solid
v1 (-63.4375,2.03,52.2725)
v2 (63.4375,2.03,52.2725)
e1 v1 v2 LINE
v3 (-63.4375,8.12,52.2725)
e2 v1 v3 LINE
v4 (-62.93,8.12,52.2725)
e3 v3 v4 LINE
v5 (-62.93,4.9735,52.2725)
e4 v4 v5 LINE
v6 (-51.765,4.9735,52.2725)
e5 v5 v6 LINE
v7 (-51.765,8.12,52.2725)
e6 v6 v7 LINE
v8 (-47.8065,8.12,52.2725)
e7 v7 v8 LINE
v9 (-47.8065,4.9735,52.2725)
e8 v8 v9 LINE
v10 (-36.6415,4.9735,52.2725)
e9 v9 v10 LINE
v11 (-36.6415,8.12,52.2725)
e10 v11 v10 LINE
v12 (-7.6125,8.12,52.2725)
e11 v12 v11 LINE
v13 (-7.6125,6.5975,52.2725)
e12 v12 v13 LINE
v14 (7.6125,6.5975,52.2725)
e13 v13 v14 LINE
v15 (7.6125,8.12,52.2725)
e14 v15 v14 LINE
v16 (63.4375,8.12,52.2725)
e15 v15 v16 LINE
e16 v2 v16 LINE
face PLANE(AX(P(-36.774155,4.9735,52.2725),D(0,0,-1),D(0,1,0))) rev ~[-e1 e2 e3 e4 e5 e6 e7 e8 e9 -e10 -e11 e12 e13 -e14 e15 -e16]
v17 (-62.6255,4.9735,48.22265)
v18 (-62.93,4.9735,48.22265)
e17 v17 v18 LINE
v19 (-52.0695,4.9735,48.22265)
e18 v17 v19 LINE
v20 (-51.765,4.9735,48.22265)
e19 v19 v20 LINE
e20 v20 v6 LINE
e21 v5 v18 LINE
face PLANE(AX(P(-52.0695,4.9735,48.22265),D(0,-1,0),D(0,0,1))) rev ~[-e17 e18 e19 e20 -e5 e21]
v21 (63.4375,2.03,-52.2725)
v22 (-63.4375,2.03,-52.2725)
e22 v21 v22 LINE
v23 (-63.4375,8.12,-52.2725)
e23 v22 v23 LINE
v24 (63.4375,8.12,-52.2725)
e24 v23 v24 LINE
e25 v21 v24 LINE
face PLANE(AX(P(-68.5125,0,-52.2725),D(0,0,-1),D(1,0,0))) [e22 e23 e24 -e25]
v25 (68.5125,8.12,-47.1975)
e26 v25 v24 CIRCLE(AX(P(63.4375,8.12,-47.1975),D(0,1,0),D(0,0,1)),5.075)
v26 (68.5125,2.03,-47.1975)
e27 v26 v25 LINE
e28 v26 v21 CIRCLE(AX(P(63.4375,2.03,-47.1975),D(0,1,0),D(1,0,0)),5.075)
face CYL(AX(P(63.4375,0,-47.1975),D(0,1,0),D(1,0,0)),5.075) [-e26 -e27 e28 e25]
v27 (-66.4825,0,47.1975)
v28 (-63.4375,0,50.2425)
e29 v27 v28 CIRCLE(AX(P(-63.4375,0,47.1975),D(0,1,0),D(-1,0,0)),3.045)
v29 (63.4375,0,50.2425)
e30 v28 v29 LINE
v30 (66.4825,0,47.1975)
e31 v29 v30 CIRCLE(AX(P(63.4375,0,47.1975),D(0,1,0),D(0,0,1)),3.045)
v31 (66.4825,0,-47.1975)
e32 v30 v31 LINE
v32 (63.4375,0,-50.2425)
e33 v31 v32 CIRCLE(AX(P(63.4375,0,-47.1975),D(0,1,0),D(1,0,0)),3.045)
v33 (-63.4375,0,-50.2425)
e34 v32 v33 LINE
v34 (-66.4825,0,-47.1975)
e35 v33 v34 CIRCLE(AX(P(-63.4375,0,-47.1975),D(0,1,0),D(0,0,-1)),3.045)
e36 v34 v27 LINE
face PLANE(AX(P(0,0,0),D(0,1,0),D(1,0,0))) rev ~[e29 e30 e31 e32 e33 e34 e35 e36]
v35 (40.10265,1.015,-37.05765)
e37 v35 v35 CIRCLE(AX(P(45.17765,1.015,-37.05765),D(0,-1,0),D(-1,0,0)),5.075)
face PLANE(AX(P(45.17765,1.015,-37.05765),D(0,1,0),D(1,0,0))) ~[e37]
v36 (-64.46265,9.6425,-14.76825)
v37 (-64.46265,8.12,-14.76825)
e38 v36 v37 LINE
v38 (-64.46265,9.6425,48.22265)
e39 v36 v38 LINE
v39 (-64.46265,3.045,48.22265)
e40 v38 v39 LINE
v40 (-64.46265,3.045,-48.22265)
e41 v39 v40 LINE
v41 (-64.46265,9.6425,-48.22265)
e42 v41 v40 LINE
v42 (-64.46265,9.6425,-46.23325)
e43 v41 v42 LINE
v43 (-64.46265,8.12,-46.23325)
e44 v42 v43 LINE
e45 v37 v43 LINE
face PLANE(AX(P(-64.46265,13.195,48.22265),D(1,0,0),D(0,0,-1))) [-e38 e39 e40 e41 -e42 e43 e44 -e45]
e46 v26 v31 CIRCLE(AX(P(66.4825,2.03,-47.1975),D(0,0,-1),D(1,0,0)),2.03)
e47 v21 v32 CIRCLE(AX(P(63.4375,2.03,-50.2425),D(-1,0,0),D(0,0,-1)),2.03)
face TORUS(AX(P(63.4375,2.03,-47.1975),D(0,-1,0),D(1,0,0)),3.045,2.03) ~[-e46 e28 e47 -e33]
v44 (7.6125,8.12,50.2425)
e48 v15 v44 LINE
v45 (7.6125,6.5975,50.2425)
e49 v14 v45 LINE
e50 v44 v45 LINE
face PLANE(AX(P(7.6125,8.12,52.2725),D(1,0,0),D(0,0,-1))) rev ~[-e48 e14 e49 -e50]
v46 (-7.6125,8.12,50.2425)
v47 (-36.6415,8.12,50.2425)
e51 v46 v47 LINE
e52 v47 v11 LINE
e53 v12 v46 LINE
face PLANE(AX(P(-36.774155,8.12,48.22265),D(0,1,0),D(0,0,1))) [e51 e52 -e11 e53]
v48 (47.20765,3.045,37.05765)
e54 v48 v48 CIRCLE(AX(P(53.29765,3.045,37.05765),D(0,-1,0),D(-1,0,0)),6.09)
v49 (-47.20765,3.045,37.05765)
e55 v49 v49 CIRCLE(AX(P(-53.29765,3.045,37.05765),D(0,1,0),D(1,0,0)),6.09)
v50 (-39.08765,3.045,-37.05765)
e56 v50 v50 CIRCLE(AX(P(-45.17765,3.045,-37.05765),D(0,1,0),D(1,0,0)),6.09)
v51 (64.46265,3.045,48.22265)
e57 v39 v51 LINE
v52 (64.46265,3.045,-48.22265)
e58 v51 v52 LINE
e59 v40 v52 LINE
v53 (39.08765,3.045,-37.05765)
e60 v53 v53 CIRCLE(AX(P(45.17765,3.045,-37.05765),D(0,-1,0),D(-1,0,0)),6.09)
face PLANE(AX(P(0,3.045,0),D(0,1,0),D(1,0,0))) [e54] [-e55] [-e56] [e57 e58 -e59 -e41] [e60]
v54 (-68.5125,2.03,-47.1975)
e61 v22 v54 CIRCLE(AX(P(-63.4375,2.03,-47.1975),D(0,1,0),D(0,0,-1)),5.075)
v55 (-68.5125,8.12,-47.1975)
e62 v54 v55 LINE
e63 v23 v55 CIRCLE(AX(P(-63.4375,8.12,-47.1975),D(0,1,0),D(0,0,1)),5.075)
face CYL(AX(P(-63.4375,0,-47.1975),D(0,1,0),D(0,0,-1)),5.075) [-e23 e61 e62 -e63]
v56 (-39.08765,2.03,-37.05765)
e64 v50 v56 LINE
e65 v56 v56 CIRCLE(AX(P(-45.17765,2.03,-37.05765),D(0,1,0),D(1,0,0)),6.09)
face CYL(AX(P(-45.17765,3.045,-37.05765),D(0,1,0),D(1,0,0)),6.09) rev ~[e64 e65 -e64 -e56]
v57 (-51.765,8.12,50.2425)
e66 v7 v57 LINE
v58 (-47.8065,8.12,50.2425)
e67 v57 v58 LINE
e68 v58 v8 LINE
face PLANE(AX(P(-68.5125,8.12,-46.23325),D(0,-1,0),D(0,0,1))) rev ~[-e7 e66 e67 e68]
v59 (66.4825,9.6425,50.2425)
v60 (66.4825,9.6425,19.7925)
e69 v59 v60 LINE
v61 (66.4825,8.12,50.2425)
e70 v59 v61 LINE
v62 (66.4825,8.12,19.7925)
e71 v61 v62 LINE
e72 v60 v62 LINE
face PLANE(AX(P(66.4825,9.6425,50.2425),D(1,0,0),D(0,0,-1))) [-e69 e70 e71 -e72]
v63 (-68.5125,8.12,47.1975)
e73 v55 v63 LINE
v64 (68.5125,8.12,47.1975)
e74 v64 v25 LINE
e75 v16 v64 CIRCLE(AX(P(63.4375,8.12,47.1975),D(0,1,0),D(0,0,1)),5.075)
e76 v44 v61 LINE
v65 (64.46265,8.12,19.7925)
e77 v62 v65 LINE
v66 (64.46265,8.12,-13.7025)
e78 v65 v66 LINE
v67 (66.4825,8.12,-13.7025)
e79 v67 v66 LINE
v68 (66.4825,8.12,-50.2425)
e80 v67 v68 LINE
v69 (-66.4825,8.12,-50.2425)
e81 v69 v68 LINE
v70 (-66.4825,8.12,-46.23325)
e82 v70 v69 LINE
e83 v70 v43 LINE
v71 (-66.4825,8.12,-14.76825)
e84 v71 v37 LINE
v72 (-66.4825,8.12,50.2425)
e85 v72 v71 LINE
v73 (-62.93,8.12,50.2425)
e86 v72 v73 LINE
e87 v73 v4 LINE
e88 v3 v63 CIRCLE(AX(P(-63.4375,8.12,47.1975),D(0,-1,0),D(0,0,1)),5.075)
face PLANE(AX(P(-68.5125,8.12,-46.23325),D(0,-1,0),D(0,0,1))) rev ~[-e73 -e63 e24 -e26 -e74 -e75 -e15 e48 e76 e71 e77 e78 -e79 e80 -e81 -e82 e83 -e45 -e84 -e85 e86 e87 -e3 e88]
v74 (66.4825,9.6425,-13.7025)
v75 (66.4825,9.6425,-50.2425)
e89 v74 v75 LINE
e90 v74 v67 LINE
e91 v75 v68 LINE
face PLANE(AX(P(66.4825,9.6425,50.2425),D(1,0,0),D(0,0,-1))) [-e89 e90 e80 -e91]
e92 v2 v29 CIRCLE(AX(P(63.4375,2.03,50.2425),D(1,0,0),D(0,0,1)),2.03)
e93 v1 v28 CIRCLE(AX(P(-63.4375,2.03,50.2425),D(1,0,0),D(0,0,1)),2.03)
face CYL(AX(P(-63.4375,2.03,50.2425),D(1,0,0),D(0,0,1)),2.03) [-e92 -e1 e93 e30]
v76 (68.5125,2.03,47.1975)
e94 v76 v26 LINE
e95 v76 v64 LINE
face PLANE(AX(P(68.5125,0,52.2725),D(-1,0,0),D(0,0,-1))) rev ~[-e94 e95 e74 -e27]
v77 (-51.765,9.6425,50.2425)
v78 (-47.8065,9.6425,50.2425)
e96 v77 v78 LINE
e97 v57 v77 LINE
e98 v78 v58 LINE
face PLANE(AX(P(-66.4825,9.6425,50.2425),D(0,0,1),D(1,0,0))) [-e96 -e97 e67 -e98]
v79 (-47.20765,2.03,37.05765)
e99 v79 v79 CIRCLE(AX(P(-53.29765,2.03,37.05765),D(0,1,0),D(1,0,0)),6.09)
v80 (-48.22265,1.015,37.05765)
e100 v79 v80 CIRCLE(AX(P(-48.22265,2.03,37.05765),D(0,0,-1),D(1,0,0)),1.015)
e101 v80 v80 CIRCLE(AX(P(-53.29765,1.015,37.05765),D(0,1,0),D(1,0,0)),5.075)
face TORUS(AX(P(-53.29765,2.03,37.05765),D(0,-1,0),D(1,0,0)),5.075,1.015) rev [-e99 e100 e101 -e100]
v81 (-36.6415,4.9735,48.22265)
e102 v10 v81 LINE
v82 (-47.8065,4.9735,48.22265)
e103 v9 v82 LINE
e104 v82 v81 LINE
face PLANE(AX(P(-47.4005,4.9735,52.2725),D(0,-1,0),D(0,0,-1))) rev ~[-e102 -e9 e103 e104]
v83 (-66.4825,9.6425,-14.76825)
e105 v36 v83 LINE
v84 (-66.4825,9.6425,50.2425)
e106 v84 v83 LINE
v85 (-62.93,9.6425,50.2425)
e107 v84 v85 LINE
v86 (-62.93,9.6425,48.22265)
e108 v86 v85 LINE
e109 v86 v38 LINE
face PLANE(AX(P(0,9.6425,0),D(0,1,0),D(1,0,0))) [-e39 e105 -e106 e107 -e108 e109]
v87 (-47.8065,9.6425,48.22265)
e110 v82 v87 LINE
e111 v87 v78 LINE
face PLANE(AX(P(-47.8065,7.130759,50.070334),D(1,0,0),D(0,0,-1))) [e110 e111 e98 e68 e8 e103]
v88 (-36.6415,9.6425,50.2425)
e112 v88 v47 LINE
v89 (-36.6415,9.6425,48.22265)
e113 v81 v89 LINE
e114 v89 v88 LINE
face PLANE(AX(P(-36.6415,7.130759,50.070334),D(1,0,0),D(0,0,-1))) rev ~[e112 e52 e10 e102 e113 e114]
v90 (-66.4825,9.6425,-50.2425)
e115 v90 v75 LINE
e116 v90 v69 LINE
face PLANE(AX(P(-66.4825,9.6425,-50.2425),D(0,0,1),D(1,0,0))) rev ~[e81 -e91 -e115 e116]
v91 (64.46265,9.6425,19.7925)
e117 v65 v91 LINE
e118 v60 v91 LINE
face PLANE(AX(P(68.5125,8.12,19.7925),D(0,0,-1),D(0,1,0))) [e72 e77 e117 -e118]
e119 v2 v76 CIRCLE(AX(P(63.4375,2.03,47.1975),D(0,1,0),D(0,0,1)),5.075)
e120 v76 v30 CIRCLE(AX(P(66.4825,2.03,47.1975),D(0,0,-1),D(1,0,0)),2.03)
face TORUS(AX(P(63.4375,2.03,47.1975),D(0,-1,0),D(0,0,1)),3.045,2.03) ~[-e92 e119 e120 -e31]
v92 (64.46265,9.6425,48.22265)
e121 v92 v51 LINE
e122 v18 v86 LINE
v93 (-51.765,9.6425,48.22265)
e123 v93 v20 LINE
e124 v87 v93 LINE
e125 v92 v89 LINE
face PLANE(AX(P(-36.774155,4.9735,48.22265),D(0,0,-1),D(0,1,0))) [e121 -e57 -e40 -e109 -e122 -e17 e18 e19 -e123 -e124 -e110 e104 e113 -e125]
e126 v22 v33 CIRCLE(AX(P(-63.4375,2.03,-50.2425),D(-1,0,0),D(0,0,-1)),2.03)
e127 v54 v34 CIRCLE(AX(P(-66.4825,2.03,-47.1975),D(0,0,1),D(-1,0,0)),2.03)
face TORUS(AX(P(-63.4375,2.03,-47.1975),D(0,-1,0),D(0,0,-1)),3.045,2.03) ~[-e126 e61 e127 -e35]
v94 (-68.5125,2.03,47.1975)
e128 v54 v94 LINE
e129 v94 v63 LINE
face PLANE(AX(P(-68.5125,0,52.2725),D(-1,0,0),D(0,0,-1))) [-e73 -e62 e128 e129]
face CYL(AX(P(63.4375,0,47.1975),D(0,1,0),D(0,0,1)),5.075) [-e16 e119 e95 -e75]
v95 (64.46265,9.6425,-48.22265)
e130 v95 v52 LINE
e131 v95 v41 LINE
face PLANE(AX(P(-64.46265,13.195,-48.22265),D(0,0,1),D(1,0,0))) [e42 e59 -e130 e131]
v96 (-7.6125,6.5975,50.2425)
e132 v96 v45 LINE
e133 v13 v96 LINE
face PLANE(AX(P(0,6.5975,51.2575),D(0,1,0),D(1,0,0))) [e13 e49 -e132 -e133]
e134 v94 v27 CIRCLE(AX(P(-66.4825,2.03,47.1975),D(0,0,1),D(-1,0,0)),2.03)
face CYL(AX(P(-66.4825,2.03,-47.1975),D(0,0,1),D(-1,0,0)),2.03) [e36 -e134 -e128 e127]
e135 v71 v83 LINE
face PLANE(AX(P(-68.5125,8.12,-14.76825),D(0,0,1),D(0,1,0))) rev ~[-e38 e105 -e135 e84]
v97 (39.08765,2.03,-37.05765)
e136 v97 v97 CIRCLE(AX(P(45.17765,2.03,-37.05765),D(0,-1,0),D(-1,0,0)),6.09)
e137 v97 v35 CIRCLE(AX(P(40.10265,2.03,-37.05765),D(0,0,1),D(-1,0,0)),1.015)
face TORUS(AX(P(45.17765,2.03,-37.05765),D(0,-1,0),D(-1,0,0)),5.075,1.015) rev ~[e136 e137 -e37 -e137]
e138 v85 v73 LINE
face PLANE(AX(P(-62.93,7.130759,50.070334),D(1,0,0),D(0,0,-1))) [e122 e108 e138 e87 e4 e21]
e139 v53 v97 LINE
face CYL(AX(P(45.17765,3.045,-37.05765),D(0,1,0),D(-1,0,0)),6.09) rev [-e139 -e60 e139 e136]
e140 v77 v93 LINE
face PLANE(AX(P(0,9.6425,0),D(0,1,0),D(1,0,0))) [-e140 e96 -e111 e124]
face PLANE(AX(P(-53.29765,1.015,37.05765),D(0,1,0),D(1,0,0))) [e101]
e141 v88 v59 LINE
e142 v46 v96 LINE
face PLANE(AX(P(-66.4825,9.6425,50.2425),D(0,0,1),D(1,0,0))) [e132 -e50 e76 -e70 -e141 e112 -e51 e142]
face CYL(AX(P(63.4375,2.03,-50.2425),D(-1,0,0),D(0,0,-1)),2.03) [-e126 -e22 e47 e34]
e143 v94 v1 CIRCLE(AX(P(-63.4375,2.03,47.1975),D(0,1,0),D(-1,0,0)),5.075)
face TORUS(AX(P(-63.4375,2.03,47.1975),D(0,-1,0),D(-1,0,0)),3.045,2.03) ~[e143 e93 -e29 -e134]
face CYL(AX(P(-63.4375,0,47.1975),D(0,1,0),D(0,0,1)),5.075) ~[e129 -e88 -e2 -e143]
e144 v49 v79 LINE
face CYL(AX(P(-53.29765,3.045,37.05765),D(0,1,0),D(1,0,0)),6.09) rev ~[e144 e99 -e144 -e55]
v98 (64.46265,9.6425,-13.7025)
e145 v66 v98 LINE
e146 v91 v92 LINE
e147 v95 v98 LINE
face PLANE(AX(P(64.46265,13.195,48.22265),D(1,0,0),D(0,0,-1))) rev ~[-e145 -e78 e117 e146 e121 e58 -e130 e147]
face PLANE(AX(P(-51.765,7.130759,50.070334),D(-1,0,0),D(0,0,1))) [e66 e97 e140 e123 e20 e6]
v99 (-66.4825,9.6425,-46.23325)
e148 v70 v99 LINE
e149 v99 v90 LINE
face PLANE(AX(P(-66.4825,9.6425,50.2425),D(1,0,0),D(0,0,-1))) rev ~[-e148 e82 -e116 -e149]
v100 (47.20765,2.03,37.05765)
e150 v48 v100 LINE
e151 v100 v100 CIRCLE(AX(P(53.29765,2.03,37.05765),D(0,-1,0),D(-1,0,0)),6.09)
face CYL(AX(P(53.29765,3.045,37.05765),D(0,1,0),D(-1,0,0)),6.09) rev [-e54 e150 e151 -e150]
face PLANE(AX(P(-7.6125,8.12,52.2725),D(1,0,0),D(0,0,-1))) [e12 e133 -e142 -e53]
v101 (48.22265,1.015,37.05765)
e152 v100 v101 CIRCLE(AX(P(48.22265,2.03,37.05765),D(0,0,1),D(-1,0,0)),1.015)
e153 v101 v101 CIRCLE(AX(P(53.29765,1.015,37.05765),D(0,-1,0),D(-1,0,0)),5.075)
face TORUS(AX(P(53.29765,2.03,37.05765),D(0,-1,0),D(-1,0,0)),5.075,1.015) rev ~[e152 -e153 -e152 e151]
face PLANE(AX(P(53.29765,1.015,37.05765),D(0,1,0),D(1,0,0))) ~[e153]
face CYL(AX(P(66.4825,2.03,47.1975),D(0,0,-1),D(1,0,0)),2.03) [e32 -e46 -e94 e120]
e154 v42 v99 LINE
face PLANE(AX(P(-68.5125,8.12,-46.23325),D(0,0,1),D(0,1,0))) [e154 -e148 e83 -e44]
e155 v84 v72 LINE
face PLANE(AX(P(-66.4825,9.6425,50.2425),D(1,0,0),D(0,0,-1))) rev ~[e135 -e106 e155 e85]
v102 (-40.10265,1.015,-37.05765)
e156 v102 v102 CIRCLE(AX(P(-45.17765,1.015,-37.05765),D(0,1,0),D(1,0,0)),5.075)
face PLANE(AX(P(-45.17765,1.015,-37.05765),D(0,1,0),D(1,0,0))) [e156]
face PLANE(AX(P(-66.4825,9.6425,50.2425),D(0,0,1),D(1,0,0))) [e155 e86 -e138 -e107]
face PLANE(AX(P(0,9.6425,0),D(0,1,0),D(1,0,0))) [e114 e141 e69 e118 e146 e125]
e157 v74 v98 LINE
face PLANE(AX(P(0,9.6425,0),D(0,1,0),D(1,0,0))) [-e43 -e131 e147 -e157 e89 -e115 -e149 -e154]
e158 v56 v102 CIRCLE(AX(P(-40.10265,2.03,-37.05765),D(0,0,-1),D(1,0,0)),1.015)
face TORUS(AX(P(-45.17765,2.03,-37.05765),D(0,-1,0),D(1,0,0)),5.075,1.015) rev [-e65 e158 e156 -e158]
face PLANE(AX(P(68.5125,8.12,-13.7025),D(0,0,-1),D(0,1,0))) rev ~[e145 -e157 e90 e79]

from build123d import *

# Parameters (mm, degrees)
SKETCH1_W                                      = 135
SKETCH1_H                                      = 103
BOSS_EXTRUDE1_DEPTH                            = 13
SKETCH2_W                                      = 127.02
SKETCH2_H                                      = 95.02
CUT_EXTRUDE1_DEPTH                             = 10
SKETCH3_R                                      = 6
CUT_EXTRUDE2_DEPTH                             = 2
FILLET1_R                                      = 1
FILLET1_OF_MIRROR1_R                           = 1
SKETCH4_R                                      = 6
CUT_EXTRUDE3_DEPTH                             = 2
FILLET2_R                                      = 1
FILLET2_OF_MIRROR2_R                           = 1
SKETCH5_W                                      = 31
SKETCH5_H                                      = 2.5
CUT_EXTRUDE4_DEPTH                             = 5
SKETCH6_W                                      = 135
SKETCH6_H                                      = 103
CUT_EXTRUDE5_DEPTH                             = 3.5
SKETCH7_W                                      = 33
SKETCH7_H                                      = 12
CUT_EXTRUDE6_DEPTH                             = 5
SKETCH8_OUTSIDE_W                              = 171.014
SKETCH8_OUTSIDE_H                              = 139.014
SKETCH8_OUTSIDE_W_2                            = 131
SKETCH8_OUTSIDE_H_2                            = 99
CUT_AROUND_SIDE_FOR_FRICTION_FITTING_COV_DEPTH = 1.5
SKETCH9_W                                      = 15
SKETCH9_H                                      = 2
CUT_EXTRUDE8_DEPTH                             = 1.5
FILLET3_R                                      = 5
FILLET4_R                                      = 2
SKETCH14_W                                     = 8.2
SKETCH14_H                                     = 1.5
CUT_EXTRUDE13_DEPTH                            = 4
SKETCH16_W                                     = 8.2
SKETCH16_H                                     = 1.5
CUT_EXTRUDE14_DEPTH                            = 4
SKETCH17_W                                     = 1.99
SKETCH17_H                                     = 1.5
CUT_EXTRUDE15_DEPTH                            = 9.3
CUT_EXTRUDE15_DEPTH_BACK                       = 1.1
SKETCH18_W                                     = 1.99
SKETCH18_H                                     = 1.5
CUT_EXTRUDE16_DEPTH                            = 9.3
CUT_EXTRUDE16_DEPTH_BACK                       = 1.1
SKETCH19_W                                     = 10.4
SKETCH19_H                                     = 4.692472087
SKETCH19_W_2                                   = 10.469305177
SKETCH19_H_2                                   = 5.245813632
CUT_EXTRUDE17_DEPTH                            = 3.1
SKETCH23_W                                     = 3.99
SKETCH23_H                                     = 3.1
BOSS_EXTRUDE2_DEPTH                            = 0.069305
CUT_EXTRUDE20_DEPTH                            = 0.2
CUT_EXTRUDE21_DEPTH                            = 0.4
CUT_EXTRUDE22_DEPTH                            = 0.3
CUT_EXTRUDE23_DEPTH                            = 0.3
SCALE1_SCALE                                   = 1.015


with BuildPart() as part:
    # Sketch1 → Boss-Extrude1 (new body)
    with BuildSketch(Plane(origin=(0, 0, 0), x_dir=(1, 0, 0), z_dir=(0, 1, 0))):
        Rectangle(SKETCH1_W, SKETCH1_H)
    extrude(amount=BOSS_EXTRUDE1_DEPTH)

    # Sketch2 → Cut-Extrude1 (cut)
    with BuildSketch(Plane(origin=(0, 13, 0), x_dir=(1, 0, 0), z_dir=(0, 1, 0))):
        Rectangle(SKETCH2_W, SKETCH2_H)
    extrude(amount=-CUT_EXTRUDE1_DEPTH, mode=Mode.SUBTRACT)

    # Sketch3 → Cut-Extrude2 (cut)
    with BuildSketch(Plane(origin=(0, 3, 0), x_dir=(1, 0, 0), z_dir=(0, 1, 0))):
        with Locations((-52.51, -36.51)):
            Circle(SKETCH3_R)
    cut_extrude2 = extrude(amount=-CUT_EXTRUDE2_DEPTH, mode=Mode.SUBTRACT)

    # Fillet1
    fillet1_edges = [part.edges().sort_by_distance(p)[0] for p in [
        (-58.51, 1, 36.51),
    ]]
    fillet(fillet1_edges, radius=FILLET1_R)

    # Mirror1: Cut-Extrude2 across plane
    add(cut_extrude2.mirror(Plane(origin=(0, 0, 0), x_dir=(0, 0, 1), z_dir=(1, 0, 0))), mode=Mode.SUBTRACT)

    # Fillet1 of Mirror1
    fillet1_of_mirror1_edges = [part.edges().sort_by_distance(p)[0] for p in [
        (58.51, 1, 36.51),
    ]]
    fillet(fillet1_of_mirror1_edges, radius=FILLET1_OF_MIRROR1_R)

    # Sketch4 → Cut-Extrude3 (cut)
    with BuildSketch(Plane(origin=(0, 3, 0), x_dir=(1, 0, 0), z_dir=(0, 1, 0))):
        with Locations((-44.51, 36.51)):
            Circle(SKETCH4_R)
    cut_extrude3 = extrude(amount=-CUT_EXTRUDE3_DEPTH, mode=Mode.SUBTRACT)

    # Fillet2
    fillet2_edges = [part.edges().sort_by_distance(p)[0] for p in [
        (-50.51, 1, -36.51),
    ]]
    fillet(fillet2_edges, radius=FILLET2_R)

    # Mirror2: Cut-Extrude3 across plane
    add(cut_extrude3.mirror(Plane(origin=(0, 0, 0), x_dir=(0, 0, 1), z_dir=(1, 0, 0))), mode=Mode.SUBTRACT)

    # Fillet2 of Mirror2
    fillet2_of_mirror2_edges = [part.edges().sort_by_distance(p)[0] for p in [
        (50.51, 1, -36.51),
    ]]
    fillet(fillet2_of_mirror2_edges, radius=FILLET2_OF_MIRROR2_R)

    # Sketch5 → Cut-Extrude4 (cut)
    with BuildSketch(Plane.ZY.offset(67.5)):
        with Locations((-30.05, 9.25)):
            Rectangle(SKETCH5_W, SKETCH5_H)
    extrude(amount=-CUT_EXTRUDE4_DEPTH, mode=Mode.SUBTRACT)

    # Sketch6 → Cut-Extrude5 (cut)
    with BuildSketch(Plane(origin=(0, 13, 0), x_dir=(1, 0, 0), z_dir=(0, 1, 0))):
        Rectangle(SKETCH6_W, SKETCH6_H)
    extrude(amount=-CUT_EXTRUDE5_DEPTH, mode=Mode.SUBTRACT)

    # Sketch7 → Cut-Extrude6 (cut)
    with BuildSketch(Plane(origin=(67.5, 0, 0), x_dir=(0, 0, -1), z_dir=(1, 0, 0))):
        with Locations((-3, 14)):
            Rectangle(SKETCH7_W, SKETCH7_H)
    extrude(amount=-CUT_EXTRUDE6_DEPTH, mode=Mode.SUBTRACT)

    # Sketch8 outside → Cut Around side for friction fitting cover (cut)
    with BuildSketch(Plane(origin=(0, 9.5, 0), x_dir=(1, 0, 0), z_dir=(0, 1, 0))):
        Rectangle(SKETCH8_OUTSIDE_W, SKETCH8_OUTSIDE_H)
        Rectangle(SKETCH8_OUTSIDE_W_2, SKETCH8_OUTSIDE_H_2, mode=Mode.SUBTRACT)
    extrude(amount=-CUT_AROUND_SIDE_FOR_FRICTION_FITTING_COV_DEPTH, mode=Mode.SUBTRACT)

    # Sketch9 → Cut-Extrude8 (cut)
    with BuildSketch(Plane(origin=(0, 8, 0), x_dir=(1, 0, 0), z_dir=(0, 1, 0))):
        with Locations((0, -50.5)):
            Rectangle(SKETCH9_W, SKETCH9_H)
    extrude(amount=-CUT_EXTRUDE8_DEPTH, mode=Mode.SUBTRACT)

    # Fillet3
    fillet3_edges = [part.edges().sort_by_distance(p)[0] for p in [
        (67.5, 4, 51.5),
        (-67.5, 4, 51.5),
        (-67.5, 4, -51.5),
        (67.5, 4, -51.5),
    ]]
    fillet(fillet3_edges, radius=FILLET3_R)

    # Fillet4
    fillet4_edges = [part.edges().sort_by_distance(p)[0] for p in [
        (67.5, 0, 0),
        (0, 0, 51.5),
        (-67.5, 0, 0),
        (0, 0, -51.5),
        (-66.035533906, 0, 50.035533906),
        (-66.035533906, 0, -50.035533906),
        (66.035533906, 0, -50.035533906),
        (66.035533906, 0, 50.035533906),
    ]]
    fillet(fillet4_edges, radius=FILLET4_R)

    # Sketch14 → Cut-Extrude13 (cut)
    with BuildSketch(Plane.XY.offset(49.5)):
        with Locations((-56.5, 8.75)):
            Rectangle(SKETCH14_W, SKETCH14_H)
    extrude(amount=-CUT_EXTRUDE13_DEPTH, mode=Mode.SUBTRACT)

    # Sketch16 → Cut-Extrude14 (cut)
    with BuildSketch(Plane.XY.offset(49.5)):
        with Locations((-41.5, 8.75)):
            Rectangle(SKETCH16_W, SKETCH16_H)
    extrude(amount=-CUT_EXTRUDE14_DEPTH, mode=Mode.SUBTRACT)

    # Sketch17 → Cut-Extrude15 (cut, two sides)
    with BuildSketch(Plane(origin=(-60.6, 0, 0), x_dir=(0, 0, -1), z_dir=(1, 0, 0))) as cut_extrude15_sk:
        with Locations((-48.505, 8.75)):
            Rectangle(SKETCH17_W, SKETCH17_H)
    extrude(amount=CUT_EXTRUDE15_DEPTH, mode=Mode.SUBTRACT)
    extrude(cut_extrude15_sk.sketch, amount=-CUT_EXTRUDE15_DEPTH_BACK, mode=Mode.SUBTRACT)

    # Sketch18 → Cut-Extrude16 (cut, two sides)
    with BuildSketch(Plane(origin=(-45.6, 0, 0), x_dir=(0, 0, -1), z_dir=(1, 0, 0))) as cut_extrude16_sk:
        with Locations((-48.505, 8.75)):
            Rectangle(SKETCH18_W, SKETCH18_H)
    extrude(amount=CUT_EXTRUDE16_DEPTH, mode=Mode.SUBTRACT)
    extrude(cut_extrude16_sk.sketch, amount=-CUT_EXTRUDE16_DEPTH_BACK, mode=Mode.SUBTRACT)

    # Sketch19 → Cut-Extrude17 (cut)
    with BuildSketch(Plane(origin=(0, 8, 0), x_dir=(1, 0, 0), z_dir=(0, 1, 0))):
        with Locations((-56.5, -49.856236044)):
            Rectangle(SKETCH19_W, SKETCH19_H)
        with Locations((-41.465347412, -50.132906816)):
            Rectangle(SKETCH19_W_2, SKETCH19_H_2)
    extrude(amount=-CUT_EXTRUDE17_DEPTH, mode=Mode.SUBTRACT)

    # Sketch23 → Boss-Extrude2 (add)
    with BuildSketch(Plane.ZY.offset(36.230694823)):
        with Locations((49.505, 6.45)):
            Rectangle(SKETCH23_W, SKETCH23_H)
    extrude(amount=BOSS_EXTRUDE2_DEPTH)

    # Sketch24 → Cut-Extrude20 (cut)
    with BuildSketch(Plane.ZY.offset(36.3)):
        Polygon((47.51, 4.9), (47.51, 9.5), (49.5, 9.5), (49.5, 8), (51.5, 8), (51.5, 4.9), align=None)
    extrude(amount=-CUT_EXTRUDE20_DEPTH, mode=Mode.SUBTRACT)

    # Sketch25 → Cut-Extrude21 (cut)
    with BuildSketch(Plane(origin=(-46.7, 0, 0), x_dir=(0, 0, -1), z_dir=(1, 0, 0))):
        Polygon((-51.5, 4.9), (-47.51, 4.9), (-47.51, 9.5), (-49.5, 9.5), (-49.5, 8), (-51.5, 8), align=None)
    extrude(amount=-CUT_EXTRUDE21_DEPTH, mode=Mode.SUBTRACT)

    # Sketch26 → Cut-Extrude22 (cut)
    with BuildSketch(Plane.ZY.offset(51.3)):
        Polygon((47.51, 9.5), (47.51, 4.9), (51.5, 4.9), (51.5, 8), (49.5, 8), (49.5, 9.5), align=None)
    extrude(amount=-CUT_EXTRUDE22_DEPTH, mode=Mode.SUBTRACT)

    # Sketch27 → Cut-Extrude23 (cut)
    with BuildSketch(Plane(origin=(-61.7, 0, 0), x_dir=(0, 0, -1), z_dir=(1, 0, 0))):
        Polygon((-51.5, 4.9), (-47.51, 4.9), (-47.51, 9.5), (-49.5, 9.5), (-49.5, 8), (-51.5, 8), align=None)
    extrude(amount=-CUT_EXTRUDE23_DEPTH, mode=Mode.SUBTRACT)


with BuildPart() as part_1:
    # Scale1: scaled about (0, 0, 0)
    add(part.part.scale(SCALE1_SCALE))


solid = part_1.part
